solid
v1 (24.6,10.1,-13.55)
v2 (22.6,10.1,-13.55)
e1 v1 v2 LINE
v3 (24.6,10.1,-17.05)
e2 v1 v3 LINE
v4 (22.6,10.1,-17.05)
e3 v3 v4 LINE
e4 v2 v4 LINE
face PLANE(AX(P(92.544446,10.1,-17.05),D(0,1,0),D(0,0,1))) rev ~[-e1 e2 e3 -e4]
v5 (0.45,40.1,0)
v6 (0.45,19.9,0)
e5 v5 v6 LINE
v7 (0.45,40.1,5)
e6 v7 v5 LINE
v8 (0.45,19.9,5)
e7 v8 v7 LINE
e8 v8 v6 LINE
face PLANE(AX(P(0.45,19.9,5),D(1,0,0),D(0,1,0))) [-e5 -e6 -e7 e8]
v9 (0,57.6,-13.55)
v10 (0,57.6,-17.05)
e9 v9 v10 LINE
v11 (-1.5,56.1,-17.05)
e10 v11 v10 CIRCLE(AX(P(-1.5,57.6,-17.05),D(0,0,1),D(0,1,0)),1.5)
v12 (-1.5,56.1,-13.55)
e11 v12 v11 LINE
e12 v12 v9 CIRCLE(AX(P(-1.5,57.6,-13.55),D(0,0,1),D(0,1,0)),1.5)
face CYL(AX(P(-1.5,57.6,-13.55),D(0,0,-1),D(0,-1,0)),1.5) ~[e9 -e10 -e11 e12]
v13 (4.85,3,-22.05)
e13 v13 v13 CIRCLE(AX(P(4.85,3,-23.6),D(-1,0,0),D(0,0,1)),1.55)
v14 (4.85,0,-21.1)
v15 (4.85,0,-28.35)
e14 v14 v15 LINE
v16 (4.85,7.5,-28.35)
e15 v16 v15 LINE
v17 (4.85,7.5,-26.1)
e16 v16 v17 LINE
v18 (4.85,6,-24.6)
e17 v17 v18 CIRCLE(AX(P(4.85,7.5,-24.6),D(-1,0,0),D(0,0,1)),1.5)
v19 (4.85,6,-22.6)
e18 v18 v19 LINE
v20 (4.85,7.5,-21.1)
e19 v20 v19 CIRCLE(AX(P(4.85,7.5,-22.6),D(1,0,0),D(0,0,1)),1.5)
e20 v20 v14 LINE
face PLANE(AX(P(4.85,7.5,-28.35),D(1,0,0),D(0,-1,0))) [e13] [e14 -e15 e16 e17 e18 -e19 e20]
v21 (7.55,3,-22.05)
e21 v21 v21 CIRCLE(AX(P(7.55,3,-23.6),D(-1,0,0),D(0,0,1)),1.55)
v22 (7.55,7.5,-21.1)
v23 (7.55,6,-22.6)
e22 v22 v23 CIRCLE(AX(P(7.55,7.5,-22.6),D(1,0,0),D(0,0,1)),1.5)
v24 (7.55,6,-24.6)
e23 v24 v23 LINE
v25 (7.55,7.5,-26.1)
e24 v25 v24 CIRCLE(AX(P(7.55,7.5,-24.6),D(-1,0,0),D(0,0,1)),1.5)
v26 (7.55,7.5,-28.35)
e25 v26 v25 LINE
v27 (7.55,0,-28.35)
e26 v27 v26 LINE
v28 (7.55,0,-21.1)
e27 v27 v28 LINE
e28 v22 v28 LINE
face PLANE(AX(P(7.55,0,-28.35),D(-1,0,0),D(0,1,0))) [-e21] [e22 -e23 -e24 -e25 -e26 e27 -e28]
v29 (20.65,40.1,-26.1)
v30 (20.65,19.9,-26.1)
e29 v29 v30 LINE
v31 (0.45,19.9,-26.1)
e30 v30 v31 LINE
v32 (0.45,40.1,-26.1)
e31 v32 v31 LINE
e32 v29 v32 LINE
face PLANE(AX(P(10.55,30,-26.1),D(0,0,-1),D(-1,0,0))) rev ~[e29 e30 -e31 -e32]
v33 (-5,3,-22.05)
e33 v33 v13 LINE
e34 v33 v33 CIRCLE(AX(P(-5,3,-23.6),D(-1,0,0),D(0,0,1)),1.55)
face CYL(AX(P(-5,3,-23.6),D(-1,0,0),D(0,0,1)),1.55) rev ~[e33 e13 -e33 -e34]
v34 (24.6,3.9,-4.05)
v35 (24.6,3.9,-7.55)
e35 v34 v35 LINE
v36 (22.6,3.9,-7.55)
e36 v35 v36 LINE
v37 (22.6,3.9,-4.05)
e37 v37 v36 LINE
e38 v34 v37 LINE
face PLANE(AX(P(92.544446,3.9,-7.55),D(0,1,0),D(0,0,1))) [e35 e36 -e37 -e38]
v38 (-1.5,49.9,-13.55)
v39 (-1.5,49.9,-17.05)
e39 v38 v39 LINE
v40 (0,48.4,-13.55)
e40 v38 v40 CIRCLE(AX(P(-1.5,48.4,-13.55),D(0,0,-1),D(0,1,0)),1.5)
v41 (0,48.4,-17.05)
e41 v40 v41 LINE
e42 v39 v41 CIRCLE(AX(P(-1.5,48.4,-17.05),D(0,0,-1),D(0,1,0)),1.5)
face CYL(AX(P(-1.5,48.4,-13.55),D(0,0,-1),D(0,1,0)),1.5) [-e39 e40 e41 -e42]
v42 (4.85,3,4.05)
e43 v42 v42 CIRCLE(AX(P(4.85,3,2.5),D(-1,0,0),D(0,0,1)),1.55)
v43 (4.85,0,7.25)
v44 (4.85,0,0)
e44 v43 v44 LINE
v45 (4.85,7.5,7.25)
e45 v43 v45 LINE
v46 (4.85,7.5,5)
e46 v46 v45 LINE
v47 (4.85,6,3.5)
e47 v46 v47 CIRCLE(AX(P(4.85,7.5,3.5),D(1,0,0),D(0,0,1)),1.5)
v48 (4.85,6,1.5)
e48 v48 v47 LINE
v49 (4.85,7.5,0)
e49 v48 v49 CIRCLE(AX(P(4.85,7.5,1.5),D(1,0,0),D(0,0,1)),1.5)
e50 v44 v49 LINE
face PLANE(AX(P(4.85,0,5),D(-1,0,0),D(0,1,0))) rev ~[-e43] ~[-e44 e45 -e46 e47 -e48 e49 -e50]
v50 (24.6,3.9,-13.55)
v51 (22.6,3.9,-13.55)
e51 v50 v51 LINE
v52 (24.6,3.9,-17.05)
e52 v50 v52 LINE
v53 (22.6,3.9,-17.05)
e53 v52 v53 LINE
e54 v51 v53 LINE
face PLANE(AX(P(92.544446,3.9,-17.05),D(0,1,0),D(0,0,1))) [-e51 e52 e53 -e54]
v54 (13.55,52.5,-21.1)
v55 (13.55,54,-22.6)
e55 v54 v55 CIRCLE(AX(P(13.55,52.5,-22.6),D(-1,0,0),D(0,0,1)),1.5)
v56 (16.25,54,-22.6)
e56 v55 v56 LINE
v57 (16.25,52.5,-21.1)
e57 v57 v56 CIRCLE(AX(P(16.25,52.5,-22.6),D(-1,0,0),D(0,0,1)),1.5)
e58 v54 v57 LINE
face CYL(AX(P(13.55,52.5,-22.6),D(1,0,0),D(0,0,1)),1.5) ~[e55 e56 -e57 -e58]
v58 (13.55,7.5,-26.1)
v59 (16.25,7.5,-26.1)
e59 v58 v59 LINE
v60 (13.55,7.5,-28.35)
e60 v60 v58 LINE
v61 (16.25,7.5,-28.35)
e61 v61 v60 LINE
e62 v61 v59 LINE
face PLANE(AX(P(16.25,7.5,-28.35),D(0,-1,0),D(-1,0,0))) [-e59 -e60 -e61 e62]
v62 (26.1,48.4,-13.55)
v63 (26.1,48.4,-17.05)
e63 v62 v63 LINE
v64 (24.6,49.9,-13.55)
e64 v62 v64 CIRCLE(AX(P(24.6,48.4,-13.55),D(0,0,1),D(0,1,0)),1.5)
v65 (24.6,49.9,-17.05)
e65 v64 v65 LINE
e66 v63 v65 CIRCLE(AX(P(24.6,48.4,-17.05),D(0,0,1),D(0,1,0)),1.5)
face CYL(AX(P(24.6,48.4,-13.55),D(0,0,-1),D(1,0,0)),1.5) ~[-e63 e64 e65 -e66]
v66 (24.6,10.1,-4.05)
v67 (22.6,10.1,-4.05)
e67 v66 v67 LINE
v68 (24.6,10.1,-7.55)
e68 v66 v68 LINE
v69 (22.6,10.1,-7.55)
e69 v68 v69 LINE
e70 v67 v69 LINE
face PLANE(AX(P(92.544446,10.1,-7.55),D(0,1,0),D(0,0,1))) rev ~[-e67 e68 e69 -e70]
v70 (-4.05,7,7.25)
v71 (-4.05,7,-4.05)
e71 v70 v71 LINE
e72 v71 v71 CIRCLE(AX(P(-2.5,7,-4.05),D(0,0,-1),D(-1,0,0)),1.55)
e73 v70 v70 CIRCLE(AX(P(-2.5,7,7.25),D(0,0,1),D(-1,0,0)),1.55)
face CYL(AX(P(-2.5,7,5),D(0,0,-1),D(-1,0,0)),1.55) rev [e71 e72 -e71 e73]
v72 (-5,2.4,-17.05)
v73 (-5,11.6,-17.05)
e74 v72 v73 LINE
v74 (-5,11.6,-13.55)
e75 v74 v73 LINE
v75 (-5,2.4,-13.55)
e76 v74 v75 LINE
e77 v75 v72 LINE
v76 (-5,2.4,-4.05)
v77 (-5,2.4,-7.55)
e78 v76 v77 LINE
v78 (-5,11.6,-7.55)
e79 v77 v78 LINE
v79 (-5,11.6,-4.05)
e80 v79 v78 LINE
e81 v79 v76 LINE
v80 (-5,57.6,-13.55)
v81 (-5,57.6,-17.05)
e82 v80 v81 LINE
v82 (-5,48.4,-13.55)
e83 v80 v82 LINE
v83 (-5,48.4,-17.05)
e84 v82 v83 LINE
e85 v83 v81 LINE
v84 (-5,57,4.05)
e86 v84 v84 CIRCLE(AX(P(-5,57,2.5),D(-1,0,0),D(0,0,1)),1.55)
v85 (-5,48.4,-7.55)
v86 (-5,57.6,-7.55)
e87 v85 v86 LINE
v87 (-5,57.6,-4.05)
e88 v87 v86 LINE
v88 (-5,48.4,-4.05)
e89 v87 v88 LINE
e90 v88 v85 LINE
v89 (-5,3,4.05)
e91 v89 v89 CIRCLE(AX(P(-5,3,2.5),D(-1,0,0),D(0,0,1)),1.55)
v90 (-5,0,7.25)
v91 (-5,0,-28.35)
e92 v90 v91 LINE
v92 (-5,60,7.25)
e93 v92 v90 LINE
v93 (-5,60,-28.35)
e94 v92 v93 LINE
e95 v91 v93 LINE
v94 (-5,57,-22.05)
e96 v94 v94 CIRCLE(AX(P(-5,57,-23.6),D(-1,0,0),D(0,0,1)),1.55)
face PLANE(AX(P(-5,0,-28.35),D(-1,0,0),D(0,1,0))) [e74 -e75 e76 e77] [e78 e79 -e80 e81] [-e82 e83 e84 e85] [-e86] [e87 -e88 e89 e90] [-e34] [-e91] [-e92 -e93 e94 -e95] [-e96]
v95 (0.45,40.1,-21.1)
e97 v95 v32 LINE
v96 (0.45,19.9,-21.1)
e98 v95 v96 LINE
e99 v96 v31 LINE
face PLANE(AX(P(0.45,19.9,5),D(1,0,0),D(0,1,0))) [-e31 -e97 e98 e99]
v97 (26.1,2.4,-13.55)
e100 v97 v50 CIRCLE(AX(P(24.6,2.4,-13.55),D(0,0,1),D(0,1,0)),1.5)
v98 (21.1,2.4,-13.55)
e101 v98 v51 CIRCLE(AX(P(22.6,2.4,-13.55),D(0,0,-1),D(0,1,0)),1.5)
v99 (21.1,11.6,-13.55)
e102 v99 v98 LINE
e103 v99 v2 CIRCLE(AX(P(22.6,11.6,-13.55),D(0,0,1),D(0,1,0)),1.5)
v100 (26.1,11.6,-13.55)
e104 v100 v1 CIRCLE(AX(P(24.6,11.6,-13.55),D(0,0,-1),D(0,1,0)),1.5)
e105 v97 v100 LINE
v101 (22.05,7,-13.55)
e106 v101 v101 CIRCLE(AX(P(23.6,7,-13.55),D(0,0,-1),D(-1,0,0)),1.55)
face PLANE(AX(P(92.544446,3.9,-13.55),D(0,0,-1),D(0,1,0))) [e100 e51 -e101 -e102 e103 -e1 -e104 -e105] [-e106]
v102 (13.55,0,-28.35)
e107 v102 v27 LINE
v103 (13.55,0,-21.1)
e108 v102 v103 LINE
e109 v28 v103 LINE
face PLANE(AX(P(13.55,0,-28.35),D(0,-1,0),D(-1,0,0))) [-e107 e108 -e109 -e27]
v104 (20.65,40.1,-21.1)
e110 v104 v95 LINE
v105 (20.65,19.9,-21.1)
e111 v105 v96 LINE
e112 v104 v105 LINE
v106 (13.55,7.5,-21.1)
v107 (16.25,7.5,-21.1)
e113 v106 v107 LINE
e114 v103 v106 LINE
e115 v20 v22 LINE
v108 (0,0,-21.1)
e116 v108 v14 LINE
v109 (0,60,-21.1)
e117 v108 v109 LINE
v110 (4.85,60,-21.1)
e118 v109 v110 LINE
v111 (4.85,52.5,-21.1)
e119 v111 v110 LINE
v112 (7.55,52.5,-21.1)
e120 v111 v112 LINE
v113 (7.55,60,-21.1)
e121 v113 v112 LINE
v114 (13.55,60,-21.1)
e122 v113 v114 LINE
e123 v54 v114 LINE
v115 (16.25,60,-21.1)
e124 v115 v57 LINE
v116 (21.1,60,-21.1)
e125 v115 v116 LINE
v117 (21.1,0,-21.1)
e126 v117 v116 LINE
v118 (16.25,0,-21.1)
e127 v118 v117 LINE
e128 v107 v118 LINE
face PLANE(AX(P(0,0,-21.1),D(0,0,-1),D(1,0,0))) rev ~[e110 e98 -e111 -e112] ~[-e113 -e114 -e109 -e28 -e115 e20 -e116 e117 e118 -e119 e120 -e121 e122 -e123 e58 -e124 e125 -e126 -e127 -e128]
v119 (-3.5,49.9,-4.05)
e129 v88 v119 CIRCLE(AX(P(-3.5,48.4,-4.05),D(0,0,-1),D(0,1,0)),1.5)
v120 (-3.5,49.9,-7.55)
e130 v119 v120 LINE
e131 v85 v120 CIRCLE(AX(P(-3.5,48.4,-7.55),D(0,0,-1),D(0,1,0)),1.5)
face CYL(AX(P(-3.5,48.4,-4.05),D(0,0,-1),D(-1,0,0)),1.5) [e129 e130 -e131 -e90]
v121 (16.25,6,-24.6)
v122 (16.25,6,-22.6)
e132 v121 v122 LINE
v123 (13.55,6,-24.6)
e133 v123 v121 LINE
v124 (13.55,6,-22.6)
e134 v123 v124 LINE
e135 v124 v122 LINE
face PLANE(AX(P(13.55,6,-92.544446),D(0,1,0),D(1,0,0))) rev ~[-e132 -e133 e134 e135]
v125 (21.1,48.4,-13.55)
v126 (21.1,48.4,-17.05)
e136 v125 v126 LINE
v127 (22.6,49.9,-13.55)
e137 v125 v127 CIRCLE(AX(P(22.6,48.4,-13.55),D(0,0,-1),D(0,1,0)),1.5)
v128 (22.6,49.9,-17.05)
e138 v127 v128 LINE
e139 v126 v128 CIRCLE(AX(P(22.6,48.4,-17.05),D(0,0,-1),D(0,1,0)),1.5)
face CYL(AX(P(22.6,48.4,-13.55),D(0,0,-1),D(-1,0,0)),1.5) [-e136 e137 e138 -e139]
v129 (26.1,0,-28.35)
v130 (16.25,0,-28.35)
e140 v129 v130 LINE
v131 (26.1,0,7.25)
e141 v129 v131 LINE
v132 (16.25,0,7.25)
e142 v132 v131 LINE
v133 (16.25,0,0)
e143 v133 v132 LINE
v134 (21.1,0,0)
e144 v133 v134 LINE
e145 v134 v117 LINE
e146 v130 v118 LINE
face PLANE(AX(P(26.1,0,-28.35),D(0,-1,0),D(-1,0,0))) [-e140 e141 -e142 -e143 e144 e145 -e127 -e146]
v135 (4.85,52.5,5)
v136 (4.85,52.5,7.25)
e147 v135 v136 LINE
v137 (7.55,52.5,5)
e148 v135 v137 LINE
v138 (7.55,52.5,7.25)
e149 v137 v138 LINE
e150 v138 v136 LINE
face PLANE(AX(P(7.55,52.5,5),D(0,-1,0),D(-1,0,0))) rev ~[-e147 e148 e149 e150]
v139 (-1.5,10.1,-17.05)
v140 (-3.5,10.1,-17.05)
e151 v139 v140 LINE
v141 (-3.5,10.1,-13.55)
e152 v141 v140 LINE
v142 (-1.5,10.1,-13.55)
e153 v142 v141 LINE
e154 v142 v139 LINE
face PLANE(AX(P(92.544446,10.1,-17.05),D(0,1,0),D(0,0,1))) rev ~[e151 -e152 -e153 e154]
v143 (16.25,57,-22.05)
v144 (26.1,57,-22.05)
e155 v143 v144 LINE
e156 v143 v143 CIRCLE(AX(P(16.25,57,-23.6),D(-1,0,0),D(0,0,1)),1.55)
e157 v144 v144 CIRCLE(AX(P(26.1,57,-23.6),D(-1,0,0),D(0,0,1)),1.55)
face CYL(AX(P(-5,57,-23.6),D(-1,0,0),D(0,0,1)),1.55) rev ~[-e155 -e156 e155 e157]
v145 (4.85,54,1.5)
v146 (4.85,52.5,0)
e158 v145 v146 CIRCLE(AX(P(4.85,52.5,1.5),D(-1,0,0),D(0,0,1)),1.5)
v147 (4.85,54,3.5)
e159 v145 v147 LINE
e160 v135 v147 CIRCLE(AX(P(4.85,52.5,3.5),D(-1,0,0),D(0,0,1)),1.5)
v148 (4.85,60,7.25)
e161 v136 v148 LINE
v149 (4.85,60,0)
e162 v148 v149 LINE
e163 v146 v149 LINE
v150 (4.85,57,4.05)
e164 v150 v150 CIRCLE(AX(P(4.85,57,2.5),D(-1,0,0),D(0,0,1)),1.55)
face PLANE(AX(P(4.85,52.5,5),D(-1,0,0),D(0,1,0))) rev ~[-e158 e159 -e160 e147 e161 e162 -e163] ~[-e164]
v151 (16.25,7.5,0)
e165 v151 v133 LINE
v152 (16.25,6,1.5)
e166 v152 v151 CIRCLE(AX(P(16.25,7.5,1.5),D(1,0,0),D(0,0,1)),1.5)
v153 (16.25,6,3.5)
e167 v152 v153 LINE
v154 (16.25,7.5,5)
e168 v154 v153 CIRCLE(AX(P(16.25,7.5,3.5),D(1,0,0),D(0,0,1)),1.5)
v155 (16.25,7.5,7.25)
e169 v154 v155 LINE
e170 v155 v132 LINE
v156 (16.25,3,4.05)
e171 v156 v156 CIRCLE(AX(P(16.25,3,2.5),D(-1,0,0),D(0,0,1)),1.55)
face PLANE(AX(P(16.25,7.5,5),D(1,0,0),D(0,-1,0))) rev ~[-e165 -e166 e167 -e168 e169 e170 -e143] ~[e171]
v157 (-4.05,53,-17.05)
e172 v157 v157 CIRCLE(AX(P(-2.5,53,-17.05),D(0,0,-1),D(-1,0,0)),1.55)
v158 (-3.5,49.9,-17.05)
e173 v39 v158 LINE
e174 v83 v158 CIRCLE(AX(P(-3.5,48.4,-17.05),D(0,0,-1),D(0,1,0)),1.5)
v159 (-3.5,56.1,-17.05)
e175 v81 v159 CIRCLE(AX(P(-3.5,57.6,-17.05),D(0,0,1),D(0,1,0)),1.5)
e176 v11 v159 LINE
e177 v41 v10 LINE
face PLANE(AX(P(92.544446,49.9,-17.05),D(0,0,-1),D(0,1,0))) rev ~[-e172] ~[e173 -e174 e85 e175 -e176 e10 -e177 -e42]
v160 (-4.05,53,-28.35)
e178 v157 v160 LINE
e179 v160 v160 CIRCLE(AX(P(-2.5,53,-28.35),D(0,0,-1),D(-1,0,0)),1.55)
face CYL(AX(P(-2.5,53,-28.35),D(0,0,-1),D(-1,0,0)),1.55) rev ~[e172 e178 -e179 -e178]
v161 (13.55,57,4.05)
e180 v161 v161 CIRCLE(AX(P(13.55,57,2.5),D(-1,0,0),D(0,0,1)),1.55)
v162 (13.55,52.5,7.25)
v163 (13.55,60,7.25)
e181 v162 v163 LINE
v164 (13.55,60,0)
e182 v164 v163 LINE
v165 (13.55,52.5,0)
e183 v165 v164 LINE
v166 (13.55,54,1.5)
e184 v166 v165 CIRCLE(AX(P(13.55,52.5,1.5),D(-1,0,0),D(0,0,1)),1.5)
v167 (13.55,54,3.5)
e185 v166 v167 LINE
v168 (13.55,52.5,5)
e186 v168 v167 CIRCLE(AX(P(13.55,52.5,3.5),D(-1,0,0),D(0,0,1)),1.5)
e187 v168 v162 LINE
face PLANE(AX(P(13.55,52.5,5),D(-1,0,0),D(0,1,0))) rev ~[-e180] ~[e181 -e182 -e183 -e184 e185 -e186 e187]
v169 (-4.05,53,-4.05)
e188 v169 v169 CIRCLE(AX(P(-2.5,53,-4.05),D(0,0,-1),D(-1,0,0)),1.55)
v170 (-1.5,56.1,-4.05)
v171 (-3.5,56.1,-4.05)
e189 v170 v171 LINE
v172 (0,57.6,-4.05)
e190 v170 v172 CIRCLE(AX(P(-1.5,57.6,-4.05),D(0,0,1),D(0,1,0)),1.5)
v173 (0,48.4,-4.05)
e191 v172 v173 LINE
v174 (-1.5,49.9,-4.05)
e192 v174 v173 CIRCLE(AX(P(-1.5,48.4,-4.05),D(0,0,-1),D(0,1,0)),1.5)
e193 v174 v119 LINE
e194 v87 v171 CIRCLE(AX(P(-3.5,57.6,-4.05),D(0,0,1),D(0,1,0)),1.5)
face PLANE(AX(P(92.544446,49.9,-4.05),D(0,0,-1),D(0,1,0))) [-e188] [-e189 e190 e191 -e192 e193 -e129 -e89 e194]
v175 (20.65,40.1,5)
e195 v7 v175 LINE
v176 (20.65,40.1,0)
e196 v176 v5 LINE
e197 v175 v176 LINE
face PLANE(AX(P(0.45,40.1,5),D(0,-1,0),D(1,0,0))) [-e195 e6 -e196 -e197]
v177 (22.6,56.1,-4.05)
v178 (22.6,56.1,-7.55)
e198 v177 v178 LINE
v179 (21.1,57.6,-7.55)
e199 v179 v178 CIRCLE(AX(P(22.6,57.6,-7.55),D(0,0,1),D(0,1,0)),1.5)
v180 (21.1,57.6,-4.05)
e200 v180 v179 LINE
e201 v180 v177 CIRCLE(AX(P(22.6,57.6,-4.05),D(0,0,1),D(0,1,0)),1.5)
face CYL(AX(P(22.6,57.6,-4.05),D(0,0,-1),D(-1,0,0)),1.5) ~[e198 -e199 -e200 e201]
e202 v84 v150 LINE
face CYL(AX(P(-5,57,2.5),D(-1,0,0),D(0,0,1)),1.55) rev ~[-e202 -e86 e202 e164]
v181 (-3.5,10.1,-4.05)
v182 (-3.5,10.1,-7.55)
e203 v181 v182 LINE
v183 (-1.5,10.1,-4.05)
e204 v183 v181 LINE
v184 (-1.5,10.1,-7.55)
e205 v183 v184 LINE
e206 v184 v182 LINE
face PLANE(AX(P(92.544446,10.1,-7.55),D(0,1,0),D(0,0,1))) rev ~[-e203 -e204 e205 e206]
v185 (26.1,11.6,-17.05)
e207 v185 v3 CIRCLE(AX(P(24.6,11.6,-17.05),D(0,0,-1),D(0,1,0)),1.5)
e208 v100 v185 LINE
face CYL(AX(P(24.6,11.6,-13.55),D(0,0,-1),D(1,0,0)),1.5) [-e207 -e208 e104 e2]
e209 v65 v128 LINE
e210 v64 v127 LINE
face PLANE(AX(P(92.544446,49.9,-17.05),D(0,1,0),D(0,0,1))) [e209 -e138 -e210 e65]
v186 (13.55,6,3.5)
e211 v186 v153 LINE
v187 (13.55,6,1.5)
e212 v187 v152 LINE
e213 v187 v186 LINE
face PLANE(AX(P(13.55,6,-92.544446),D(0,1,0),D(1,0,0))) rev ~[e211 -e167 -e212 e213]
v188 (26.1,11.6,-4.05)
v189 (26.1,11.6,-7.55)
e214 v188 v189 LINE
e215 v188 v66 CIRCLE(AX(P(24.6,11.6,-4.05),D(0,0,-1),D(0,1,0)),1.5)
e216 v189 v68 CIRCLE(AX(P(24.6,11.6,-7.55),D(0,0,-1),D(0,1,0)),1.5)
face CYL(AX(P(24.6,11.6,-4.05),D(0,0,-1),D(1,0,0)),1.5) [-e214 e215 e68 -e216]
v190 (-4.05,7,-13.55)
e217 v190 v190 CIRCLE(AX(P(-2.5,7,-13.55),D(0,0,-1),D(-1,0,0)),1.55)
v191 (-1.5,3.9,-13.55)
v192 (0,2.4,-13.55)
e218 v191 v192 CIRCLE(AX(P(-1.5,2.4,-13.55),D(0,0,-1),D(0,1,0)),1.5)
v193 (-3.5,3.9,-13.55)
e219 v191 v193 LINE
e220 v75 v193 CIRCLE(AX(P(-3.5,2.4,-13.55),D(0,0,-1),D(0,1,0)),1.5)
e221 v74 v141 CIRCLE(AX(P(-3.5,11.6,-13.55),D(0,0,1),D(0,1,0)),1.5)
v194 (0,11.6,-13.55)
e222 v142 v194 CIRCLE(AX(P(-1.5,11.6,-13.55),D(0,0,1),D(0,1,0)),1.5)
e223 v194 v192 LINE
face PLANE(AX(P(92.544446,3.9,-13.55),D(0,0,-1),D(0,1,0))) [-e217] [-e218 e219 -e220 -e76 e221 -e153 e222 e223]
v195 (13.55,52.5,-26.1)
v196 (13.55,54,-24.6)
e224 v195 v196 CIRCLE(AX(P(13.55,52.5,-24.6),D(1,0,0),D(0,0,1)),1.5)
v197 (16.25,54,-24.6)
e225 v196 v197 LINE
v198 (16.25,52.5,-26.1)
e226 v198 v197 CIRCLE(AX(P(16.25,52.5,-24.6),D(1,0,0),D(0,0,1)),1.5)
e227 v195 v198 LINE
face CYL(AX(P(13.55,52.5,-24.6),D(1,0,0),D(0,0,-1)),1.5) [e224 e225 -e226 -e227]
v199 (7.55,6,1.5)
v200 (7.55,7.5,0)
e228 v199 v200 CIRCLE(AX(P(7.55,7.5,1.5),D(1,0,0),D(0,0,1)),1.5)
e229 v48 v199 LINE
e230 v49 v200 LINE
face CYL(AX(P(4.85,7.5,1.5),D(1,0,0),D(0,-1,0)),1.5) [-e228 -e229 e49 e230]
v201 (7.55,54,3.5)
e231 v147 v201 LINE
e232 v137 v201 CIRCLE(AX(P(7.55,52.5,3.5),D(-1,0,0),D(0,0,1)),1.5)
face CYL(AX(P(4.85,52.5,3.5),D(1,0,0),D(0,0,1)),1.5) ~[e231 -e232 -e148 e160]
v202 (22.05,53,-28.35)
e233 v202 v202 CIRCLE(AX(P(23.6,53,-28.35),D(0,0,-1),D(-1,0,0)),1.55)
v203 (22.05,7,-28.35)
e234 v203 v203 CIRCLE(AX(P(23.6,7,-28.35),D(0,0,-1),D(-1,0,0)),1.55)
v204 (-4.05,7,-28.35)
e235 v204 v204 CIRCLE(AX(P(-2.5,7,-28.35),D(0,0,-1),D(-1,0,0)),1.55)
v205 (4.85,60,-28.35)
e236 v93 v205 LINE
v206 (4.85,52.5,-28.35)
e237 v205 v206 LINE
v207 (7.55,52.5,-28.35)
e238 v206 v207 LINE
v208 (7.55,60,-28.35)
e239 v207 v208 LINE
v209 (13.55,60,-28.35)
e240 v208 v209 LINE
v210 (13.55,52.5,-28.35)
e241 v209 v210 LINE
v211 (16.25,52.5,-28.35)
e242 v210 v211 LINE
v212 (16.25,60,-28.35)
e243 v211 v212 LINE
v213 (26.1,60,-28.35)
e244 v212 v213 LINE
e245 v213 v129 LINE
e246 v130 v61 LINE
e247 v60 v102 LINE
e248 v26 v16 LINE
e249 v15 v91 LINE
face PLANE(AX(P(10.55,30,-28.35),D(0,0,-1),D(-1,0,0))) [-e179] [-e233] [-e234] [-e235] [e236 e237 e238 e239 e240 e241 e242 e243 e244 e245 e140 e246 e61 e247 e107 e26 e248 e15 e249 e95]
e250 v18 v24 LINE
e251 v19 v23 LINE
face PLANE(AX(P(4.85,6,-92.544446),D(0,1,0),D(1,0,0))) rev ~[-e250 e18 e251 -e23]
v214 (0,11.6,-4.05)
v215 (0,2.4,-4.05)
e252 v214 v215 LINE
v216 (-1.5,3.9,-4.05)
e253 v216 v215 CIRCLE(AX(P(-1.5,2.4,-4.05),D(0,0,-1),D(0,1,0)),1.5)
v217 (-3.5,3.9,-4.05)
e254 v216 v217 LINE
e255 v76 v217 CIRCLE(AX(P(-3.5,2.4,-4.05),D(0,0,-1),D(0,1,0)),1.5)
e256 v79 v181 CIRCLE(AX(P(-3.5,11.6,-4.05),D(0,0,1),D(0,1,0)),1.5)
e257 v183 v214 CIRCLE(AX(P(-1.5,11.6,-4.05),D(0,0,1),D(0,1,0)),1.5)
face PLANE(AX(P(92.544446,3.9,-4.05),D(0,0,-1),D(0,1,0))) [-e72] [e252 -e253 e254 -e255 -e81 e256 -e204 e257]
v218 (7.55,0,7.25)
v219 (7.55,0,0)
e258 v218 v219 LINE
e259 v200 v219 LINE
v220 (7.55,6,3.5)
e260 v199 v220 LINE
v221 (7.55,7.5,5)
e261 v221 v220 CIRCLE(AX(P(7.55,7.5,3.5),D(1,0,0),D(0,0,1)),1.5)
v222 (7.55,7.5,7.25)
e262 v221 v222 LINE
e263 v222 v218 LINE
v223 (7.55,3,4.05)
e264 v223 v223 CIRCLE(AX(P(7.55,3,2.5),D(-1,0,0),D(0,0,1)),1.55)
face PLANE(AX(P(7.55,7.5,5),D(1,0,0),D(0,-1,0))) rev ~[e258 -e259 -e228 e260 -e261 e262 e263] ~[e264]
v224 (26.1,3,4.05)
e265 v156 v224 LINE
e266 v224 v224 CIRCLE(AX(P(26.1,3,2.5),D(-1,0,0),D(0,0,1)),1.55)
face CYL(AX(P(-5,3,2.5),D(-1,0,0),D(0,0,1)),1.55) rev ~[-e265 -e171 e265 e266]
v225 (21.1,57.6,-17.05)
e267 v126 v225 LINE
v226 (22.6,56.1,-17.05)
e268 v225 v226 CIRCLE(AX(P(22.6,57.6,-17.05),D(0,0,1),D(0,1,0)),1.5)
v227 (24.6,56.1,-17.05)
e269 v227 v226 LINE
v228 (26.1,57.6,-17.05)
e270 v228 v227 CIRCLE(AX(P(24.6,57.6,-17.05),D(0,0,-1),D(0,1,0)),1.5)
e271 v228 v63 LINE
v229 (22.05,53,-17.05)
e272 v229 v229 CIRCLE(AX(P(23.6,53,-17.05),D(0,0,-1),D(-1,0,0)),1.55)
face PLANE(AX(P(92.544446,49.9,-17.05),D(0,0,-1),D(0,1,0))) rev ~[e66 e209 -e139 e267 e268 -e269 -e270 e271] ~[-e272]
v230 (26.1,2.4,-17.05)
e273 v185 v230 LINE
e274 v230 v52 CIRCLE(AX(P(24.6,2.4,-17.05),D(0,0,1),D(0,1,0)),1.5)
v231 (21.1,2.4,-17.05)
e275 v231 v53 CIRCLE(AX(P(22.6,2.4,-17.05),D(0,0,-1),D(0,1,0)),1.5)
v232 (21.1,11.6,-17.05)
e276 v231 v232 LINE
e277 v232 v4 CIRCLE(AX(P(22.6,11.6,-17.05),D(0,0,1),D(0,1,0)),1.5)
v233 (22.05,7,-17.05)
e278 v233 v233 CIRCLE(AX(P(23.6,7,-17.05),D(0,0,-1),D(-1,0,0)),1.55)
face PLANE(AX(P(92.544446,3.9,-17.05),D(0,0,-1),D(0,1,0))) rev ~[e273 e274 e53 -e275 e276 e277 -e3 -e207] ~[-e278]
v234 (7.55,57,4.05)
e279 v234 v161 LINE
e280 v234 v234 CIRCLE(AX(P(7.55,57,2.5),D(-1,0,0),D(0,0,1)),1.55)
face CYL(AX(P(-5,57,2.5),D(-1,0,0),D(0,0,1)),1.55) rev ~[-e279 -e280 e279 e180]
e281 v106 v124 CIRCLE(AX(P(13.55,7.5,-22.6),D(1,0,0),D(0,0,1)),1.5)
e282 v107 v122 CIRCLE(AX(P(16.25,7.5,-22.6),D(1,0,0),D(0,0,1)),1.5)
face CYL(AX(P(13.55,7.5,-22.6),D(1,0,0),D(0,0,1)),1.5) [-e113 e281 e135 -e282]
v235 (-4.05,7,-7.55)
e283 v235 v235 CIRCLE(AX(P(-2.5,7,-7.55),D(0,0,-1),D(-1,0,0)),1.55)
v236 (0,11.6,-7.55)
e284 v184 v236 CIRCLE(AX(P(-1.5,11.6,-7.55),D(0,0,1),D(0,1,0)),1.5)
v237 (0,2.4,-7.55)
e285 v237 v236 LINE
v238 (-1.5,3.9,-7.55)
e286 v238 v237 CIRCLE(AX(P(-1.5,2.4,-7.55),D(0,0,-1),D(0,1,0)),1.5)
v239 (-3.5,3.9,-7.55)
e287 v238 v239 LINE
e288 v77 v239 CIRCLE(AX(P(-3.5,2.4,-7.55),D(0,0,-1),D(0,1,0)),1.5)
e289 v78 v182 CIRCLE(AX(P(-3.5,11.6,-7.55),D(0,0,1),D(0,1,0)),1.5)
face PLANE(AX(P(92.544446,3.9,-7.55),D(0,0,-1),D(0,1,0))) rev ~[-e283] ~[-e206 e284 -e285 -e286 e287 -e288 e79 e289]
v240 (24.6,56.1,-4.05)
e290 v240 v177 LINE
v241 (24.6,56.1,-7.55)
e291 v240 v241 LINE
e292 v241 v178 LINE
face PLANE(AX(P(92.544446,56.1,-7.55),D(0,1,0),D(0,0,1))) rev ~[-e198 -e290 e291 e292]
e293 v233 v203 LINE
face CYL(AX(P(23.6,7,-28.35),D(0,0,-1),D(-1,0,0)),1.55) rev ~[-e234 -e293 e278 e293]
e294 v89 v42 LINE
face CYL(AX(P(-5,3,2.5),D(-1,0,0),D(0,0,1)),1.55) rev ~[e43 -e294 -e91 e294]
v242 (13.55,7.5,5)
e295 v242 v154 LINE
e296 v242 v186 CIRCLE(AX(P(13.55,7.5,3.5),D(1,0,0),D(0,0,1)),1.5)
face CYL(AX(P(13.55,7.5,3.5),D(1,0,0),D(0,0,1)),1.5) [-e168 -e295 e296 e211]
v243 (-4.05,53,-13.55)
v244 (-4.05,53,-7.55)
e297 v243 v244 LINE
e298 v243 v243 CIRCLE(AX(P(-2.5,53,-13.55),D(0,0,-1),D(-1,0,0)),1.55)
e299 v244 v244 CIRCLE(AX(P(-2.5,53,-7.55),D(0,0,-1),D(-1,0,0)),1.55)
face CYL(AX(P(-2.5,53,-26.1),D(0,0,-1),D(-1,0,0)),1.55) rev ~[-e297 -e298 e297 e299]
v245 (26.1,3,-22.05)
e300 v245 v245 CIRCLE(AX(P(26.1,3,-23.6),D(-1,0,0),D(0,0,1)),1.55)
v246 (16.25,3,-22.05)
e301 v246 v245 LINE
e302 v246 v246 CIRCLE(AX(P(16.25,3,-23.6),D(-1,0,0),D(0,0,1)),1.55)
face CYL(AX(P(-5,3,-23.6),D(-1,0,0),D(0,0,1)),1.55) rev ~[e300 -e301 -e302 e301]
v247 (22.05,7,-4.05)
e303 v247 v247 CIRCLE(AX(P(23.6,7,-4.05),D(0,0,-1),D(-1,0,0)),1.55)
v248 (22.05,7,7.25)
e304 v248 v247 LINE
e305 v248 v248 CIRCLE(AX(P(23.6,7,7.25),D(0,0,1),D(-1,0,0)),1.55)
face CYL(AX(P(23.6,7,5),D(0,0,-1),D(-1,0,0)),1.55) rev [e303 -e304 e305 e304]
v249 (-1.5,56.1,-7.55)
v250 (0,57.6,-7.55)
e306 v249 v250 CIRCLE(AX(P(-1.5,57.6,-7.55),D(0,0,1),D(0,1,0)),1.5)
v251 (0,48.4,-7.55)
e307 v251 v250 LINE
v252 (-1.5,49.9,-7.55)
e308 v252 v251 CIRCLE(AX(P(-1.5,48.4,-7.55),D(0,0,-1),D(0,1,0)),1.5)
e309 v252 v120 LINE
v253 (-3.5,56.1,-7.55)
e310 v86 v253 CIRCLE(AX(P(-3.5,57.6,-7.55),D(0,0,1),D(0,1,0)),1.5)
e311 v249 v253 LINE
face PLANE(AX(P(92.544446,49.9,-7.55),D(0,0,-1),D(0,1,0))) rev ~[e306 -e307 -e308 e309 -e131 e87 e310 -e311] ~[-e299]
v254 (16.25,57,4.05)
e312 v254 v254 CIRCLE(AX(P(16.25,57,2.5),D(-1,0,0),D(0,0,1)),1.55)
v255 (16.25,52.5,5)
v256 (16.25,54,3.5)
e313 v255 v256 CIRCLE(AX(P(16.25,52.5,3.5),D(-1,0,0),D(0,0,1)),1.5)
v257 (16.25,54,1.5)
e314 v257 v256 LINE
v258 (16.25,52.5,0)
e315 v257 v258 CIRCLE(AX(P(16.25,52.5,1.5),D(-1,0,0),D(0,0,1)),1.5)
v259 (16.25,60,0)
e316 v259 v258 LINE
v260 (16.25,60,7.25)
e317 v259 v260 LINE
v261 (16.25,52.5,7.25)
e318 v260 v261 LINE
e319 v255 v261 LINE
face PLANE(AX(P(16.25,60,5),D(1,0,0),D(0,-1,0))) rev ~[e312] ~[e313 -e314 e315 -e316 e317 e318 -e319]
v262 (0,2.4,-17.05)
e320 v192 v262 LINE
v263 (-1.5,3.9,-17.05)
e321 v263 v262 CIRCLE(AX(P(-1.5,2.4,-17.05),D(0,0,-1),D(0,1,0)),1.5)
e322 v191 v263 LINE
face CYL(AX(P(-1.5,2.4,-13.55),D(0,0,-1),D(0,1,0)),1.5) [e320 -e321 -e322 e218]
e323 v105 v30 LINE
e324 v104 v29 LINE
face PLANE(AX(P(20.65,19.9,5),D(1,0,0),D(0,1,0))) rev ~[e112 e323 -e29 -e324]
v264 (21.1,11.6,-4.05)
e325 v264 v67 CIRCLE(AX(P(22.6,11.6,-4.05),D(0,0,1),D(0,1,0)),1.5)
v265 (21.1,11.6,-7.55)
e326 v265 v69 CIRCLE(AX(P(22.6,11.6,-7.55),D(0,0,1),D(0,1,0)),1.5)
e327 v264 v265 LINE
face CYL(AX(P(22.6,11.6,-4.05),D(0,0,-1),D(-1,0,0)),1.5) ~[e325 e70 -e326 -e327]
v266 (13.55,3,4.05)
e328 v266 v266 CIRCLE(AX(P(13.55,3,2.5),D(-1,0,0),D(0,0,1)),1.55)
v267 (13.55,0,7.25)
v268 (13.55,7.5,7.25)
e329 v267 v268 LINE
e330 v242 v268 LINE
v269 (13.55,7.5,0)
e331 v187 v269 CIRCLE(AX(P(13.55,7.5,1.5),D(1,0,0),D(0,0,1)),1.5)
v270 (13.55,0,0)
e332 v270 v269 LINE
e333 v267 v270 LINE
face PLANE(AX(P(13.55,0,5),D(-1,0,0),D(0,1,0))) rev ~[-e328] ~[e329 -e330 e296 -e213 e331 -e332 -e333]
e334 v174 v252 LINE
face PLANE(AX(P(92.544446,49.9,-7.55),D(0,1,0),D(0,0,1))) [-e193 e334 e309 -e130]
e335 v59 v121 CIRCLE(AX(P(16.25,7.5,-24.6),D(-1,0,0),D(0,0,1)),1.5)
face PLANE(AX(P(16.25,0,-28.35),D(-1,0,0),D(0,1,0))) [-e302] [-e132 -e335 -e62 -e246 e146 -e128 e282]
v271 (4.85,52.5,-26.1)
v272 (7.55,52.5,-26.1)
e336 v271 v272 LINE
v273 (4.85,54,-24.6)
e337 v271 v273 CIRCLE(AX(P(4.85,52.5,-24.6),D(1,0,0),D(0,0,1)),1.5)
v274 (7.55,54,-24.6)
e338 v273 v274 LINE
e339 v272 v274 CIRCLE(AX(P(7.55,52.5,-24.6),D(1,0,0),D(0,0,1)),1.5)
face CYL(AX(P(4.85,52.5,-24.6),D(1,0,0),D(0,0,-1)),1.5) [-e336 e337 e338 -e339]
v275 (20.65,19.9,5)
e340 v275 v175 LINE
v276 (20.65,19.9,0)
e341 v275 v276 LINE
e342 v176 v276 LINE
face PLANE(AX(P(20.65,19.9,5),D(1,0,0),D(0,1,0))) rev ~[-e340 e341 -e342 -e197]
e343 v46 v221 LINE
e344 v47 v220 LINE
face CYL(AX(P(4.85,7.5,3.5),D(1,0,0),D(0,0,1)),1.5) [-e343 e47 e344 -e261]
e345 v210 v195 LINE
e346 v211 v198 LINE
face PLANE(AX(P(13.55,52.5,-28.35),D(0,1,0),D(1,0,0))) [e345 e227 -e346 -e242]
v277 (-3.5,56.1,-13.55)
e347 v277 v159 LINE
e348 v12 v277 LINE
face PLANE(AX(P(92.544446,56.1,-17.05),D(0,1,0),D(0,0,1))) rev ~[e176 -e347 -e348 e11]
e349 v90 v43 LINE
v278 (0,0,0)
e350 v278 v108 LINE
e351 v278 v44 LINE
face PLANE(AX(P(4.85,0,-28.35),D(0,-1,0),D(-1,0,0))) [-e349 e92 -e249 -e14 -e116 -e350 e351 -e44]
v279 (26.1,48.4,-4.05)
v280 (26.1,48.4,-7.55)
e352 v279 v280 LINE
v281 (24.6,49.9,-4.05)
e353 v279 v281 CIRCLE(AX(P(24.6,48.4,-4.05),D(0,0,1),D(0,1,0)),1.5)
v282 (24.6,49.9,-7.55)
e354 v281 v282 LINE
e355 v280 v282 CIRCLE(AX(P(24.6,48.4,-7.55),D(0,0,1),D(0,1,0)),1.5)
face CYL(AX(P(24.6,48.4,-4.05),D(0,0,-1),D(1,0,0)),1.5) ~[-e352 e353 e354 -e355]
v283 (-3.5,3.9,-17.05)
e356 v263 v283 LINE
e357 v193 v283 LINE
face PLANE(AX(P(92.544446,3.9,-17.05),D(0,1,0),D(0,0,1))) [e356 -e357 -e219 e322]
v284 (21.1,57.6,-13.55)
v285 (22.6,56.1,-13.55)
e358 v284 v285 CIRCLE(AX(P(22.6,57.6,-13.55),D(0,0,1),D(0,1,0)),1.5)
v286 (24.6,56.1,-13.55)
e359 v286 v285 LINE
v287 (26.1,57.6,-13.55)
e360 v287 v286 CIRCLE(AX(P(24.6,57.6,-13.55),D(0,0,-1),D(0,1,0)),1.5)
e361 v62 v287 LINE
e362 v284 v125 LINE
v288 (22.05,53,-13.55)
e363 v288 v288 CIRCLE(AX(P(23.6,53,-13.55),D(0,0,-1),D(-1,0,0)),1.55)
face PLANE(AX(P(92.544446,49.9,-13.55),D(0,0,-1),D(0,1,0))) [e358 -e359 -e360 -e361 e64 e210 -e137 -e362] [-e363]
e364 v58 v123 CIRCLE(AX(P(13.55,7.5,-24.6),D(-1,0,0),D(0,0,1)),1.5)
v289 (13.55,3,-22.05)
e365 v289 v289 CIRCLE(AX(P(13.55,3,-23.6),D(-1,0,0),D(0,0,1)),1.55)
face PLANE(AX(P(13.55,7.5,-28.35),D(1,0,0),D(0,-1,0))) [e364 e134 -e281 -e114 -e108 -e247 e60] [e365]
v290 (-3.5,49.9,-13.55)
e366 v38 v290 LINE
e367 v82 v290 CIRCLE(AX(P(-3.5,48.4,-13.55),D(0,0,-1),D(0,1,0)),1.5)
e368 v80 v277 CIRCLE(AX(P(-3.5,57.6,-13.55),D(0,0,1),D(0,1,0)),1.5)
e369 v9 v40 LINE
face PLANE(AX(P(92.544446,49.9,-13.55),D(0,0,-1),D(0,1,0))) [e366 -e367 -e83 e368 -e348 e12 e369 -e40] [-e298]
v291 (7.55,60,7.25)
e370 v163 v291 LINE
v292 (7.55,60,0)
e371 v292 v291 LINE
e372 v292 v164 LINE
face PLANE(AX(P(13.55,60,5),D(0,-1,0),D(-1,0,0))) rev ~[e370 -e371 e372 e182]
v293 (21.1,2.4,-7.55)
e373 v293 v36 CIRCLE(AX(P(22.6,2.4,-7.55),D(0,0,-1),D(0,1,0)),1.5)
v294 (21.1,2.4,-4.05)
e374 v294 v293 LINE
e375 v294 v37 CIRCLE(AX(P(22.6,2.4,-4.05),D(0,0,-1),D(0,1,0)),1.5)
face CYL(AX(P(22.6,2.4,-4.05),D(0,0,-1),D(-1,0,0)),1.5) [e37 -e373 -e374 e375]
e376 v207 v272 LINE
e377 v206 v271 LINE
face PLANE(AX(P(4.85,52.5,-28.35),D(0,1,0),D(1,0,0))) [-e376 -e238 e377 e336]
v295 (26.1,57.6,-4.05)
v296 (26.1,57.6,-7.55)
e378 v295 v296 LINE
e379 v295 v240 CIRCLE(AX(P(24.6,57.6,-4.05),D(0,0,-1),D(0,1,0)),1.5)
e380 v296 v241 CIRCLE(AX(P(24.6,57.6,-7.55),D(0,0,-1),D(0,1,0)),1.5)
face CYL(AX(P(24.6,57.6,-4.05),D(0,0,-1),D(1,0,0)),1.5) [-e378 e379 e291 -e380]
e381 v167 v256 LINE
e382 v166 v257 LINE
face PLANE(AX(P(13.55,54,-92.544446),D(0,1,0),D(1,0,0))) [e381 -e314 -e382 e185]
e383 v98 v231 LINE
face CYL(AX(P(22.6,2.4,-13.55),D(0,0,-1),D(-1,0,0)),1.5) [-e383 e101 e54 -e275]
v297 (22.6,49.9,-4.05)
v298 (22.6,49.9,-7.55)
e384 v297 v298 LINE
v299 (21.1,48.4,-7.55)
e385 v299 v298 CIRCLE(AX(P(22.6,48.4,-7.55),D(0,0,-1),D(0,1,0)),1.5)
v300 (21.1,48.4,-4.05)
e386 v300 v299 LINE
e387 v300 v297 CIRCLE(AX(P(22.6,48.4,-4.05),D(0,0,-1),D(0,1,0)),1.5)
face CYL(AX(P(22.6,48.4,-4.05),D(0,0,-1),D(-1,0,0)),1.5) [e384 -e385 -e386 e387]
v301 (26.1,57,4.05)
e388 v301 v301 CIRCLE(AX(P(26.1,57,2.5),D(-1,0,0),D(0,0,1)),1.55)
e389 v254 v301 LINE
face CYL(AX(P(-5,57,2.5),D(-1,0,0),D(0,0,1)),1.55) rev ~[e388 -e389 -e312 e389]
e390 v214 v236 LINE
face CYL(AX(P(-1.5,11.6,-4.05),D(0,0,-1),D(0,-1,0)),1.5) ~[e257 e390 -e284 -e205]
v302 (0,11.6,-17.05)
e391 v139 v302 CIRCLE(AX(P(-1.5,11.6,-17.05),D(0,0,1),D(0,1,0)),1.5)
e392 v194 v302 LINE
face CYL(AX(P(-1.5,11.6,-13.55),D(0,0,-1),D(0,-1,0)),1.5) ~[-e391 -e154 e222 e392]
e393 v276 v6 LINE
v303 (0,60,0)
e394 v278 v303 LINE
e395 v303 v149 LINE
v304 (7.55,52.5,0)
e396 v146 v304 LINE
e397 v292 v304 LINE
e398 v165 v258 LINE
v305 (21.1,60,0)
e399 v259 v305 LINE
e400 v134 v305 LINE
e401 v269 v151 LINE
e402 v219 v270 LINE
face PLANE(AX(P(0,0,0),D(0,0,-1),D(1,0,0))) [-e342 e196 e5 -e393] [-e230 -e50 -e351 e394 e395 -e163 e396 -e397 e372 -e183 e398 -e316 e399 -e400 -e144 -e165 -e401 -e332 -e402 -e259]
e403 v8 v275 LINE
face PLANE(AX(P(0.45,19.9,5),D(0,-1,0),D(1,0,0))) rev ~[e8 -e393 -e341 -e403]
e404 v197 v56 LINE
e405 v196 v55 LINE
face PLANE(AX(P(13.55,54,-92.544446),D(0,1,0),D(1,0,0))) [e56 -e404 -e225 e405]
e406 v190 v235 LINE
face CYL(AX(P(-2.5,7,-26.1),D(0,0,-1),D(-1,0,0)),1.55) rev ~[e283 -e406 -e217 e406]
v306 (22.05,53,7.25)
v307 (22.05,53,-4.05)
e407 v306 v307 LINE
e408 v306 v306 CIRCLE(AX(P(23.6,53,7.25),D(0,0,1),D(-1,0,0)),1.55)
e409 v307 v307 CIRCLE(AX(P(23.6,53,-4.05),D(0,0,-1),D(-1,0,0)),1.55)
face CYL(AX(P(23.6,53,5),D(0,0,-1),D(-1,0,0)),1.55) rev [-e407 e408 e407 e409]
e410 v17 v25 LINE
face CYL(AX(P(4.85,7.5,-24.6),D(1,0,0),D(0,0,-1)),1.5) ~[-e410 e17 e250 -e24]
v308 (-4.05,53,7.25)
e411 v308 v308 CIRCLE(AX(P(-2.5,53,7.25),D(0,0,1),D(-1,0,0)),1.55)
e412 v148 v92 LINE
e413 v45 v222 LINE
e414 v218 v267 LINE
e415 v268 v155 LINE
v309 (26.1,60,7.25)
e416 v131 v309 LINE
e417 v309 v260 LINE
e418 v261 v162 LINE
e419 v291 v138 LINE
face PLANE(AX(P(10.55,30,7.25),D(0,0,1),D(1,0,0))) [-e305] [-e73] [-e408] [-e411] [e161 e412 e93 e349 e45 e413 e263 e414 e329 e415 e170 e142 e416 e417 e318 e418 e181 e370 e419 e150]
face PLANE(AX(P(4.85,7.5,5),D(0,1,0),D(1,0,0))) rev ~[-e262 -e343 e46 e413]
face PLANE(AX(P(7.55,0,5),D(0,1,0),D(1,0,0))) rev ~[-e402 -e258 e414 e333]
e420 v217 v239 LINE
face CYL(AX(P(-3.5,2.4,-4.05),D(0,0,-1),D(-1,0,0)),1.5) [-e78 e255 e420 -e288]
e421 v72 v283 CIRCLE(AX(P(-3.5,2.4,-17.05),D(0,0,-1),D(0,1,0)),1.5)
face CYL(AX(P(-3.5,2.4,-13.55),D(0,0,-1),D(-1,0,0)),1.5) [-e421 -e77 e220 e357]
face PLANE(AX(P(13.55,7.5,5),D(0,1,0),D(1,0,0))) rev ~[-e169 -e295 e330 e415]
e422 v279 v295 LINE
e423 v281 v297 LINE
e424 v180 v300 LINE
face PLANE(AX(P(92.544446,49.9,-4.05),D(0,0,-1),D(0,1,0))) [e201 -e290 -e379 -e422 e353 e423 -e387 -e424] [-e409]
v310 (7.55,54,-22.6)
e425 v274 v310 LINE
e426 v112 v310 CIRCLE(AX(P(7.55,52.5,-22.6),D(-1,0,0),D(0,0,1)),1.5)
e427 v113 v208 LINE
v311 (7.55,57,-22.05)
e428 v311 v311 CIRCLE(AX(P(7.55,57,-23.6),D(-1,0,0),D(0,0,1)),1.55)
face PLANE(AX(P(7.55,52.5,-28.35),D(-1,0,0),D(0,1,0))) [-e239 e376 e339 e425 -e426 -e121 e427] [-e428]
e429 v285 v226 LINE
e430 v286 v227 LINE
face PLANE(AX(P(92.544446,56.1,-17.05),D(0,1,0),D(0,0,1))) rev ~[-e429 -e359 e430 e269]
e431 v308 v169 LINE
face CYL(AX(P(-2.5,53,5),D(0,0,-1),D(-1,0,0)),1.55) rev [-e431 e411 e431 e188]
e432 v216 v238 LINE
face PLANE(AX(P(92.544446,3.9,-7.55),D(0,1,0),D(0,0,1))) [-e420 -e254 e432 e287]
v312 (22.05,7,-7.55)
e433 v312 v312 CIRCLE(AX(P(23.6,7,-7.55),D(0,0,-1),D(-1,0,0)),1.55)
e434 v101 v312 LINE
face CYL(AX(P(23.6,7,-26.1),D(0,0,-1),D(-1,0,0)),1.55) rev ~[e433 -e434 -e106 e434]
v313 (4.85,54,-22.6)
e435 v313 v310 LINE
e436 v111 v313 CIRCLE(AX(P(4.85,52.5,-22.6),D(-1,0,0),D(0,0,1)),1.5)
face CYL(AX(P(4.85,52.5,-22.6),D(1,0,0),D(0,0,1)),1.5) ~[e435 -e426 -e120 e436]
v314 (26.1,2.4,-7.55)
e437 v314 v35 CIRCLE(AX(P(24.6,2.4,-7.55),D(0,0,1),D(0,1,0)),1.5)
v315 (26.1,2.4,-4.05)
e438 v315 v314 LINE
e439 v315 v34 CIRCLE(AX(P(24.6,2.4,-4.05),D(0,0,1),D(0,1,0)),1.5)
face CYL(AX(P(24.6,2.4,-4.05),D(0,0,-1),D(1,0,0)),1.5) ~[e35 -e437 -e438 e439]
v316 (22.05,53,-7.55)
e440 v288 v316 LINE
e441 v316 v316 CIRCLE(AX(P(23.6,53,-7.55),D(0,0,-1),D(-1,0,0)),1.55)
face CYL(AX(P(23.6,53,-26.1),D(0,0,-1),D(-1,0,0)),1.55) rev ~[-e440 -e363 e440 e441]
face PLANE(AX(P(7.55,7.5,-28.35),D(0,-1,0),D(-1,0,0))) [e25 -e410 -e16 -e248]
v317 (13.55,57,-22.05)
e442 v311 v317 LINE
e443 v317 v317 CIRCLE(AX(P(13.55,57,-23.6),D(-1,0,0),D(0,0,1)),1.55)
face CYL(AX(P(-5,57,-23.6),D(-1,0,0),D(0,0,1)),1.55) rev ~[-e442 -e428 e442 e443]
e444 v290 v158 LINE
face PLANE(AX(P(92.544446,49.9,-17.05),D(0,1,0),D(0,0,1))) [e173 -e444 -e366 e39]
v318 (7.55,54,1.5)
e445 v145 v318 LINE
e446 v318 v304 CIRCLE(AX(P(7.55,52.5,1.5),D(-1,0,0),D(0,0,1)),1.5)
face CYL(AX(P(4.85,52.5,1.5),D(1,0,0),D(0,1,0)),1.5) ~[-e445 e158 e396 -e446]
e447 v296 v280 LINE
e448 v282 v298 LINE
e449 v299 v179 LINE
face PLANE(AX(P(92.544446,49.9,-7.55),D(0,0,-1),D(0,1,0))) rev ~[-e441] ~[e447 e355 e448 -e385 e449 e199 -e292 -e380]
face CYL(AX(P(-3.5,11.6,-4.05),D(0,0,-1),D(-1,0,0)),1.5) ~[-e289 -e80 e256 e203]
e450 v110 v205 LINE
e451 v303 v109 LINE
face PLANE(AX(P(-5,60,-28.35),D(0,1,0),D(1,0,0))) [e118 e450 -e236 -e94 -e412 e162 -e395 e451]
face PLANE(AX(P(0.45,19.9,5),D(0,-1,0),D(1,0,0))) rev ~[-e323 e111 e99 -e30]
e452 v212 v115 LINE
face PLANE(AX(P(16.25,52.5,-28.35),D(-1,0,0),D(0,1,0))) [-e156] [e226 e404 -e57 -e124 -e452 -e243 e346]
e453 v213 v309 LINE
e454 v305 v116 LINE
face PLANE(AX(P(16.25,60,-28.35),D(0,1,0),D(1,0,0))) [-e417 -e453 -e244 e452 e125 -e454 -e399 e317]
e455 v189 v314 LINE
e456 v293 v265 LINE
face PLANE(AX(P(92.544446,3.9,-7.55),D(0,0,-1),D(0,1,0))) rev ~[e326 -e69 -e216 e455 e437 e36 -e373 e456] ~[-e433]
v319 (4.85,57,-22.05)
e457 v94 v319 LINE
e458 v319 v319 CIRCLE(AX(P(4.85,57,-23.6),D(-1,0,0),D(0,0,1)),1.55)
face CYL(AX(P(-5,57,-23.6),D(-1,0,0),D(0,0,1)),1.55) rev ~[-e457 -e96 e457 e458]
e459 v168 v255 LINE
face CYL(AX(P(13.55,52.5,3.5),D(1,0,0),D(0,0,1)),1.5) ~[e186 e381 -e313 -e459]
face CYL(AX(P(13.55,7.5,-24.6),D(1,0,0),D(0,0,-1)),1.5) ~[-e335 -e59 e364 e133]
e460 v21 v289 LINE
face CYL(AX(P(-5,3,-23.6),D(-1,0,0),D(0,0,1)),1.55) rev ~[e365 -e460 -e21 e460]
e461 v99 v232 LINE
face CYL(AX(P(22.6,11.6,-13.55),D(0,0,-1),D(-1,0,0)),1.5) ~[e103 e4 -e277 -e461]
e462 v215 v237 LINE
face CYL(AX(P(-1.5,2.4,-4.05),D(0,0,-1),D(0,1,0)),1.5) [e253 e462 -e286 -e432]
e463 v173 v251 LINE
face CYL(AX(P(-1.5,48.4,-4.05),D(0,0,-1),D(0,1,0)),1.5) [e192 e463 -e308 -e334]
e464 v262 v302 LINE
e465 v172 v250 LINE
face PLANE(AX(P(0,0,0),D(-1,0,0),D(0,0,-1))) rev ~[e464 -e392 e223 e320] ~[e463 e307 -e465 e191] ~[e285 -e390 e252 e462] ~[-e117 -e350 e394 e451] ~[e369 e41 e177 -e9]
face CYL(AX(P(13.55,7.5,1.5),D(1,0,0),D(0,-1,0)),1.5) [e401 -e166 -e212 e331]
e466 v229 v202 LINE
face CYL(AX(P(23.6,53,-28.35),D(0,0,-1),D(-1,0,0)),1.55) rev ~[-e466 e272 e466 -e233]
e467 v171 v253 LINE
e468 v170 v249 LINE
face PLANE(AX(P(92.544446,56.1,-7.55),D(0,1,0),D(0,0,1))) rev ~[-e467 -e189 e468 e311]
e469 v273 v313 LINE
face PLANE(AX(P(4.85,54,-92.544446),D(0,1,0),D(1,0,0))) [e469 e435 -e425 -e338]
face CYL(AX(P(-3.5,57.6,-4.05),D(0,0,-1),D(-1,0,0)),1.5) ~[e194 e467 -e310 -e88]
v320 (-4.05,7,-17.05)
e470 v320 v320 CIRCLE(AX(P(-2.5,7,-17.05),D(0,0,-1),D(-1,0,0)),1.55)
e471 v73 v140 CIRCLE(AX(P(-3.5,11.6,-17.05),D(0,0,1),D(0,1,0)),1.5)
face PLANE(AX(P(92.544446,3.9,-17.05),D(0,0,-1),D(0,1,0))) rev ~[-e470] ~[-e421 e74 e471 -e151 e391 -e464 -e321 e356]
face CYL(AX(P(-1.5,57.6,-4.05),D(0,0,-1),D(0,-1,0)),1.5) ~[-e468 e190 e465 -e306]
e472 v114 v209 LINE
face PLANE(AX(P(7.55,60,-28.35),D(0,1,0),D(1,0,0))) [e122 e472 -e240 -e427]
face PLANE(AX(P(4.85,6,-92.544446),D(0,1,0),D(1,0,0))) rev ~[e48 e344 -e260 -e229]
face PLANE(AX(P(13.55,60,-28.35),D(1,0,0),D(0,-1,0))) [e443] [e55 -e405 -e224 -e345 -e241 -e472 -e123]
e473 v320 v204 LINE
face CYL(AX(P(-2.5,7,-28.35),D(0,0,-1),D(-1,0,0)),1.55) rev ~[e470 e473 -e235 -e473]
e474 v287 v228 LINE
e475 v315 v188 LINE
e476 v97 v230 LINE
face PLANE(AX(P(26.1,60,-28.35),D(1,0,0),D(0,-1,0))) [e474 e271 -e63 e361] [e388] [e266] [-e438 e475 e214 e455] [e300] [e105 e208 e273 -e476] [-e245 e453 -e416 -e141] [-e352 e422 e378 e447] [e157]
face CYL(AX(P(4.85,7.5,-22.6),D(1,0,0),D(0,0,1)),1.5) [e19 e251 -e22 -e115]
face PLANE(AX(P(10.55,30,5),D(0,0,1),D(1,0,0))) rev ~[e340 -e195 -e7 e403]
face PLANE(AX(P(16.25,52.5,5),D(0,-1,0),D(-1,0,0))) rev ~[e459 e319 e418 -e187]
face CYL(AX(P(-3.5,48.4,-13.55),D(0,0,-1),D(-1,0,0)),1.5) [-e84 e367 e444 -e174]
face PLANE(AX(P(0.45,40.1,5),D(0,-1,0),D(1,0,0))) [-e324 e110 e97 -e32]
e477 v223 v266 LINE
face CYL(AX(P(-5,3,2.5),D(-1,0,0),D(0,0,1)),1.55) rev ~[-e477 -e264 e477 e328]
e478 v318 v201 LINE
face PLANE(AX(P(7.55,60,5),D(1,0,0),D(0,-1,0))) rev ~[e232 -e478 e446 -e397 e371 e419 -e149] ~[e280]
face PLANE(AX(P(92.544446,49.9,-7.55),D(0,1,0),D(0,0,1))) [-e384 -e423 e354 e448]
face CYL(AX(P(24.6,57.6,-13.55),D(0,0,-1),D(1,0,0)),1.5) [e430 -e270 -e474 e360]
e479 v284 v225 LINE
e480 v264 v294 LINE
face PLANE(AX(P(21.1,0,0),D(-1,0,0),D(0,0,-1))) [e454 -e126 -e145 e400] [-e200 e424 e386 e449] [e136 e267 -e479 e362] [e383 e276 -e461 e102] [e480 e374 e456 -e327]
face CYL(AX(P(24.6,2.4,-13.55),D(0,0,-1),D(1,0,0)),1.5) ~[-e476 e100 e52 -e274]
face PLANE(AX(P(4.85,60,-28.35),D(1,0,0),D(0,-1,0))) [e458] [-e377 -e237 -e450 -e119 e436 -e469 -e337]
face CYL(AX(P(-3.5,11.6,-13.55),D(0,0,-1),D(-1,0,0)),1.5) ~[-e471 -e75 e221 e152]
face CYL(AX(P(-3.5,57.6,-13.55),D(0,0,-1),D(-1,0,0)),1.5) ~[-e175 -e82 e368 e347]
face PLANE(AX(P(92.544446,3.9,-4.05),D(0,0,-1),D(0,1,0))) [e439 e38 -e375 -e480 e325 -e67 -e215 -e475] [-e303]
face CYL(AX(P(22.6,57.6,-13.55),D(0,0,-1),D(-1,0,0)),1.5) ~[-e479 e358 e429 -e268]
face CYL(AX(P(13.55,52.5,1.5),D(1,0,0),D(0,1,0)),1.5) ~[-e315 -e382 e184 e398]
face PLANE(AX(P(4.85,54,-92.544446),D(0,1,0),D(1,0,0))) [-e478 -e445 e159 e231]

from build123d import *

# Parameters (mm, degrees)
SKETCH_1_W               = 31.1
SKETCH_1_H               = 31.1
SKETCH_1_W_2             = 21.1
SKETCH_1_H_2             = 21.1
EXTRUDE_1_DEPTH          = 60
SKETCH_2_R               = 1.55
CUT_EXTRUDE_1_DEPTH      = 73.445979875
CUT_EXTRUDE_2_DEPTH      = 71.444446197
CUT_EXTRUDE_2_DEPTH_BACK = 71.444446197
SKETCH_3_W               = 2.7
SKETCH_3_H               = 6
SKETCH_4_R               = 1.55
CUT_EXTRUDE_3_DEPTH      = 73.445979875
CUT_EXTRUDE_4_DEPTH      = 71.444446197
CUT_EXTRUDE_4_DEPTH_BACK = 71.444446197
SKETCH_5_W               = 3.5
SKETCH_5_H               = 6.2
FILLET_1_R               = 1.5
SKETCH_6_W               = 20.2
SKETCH_6_H               = 20.2
CUT_EXTRUDE_5_DEPTH      = 73.445979875
SKETCH_7_R               = 1.55
EXTRUDE_2_DEPTH          = 2.25
EXTRUDE_START            = 2.25
SKETCH_8_R               = 1.55
EXTRUDE_3_DEPTH          = 2.25


with BuildPart() as part:
    # 草图1 → 凸台-拉伸1 (new body)
    with BuildSketch(Plane(origin=(0, 0, 0), x_dir=(1, 0, 0), z_dir=(0, 1, 0))):
        with Locations((10.55, 10.55)):
            Rectangle(SKETCH_1_W, SKETCH_1_H)
        with Locations((10.55, 10.55)):
            Rectangle(SKETCH_1_W_2, SKETCH_1_H_2, mode=Mode.SUBTRACT)
    extrude(amount=EXTRUDE_1_DEPTH)

    # 草图2 → 切除-拉伸1 (cut, through all)
    with BuildSketch(Plane.ZY.offset(5)):
        with Locations((-23.6, 57)):
            Circle(SKETCH_2_R)
        with Locations((-23.6, 3)):
            Circle(SKETCH_2_R)
        with Locations((2.5, 3)):
            Circle(SKETCH_2_R)
        with Locations((2.5, 57)):
            Circle(SKETCH_2_R)
    extrude(amount=-CUT_EXTRUDE_1_DEPTH, mode=Mode.SUBTRACT)

    # 草图3 → 切除-拉伸2 (cut, two sides: drawn at the far end of the back side and taken through both)
    with BuildSketch(Plane.XY.offset(-21.1).offset(-CUT_EXTRUDE_2_DEPTH_BACK)):
        with Locations((6.2, 57)):
            Rectangle(SKETCH_3_W, SKETCH_3_H)
        with Locations((14.9, 57)):
            Rectangle(SKETCH_3_W, SKETCH_3_H)
        with Locations((14.9, 3)):
            Rectangle(SKETCH_3_W, SKETCH_3_H)
        with Locations((6.2, 3)):
            Rectangle(SKETCH_3_W, SKETCH_3_H)
    extrude(amount=CUT_EXTRUDE_2_DEPTH + CUT_EXTRUDE_2_DEPTH_BACK, mode=Mode.SUBTRACT)

    # 草图4 → 切除-拉伸3 (cut, through all)
    with BuildSketch(Plane(origin=(0, 0, -26.1), x_dir=(-1, 0, 0), z_dir=(0, 0, -1))):
        with Locations((-23.6, 53)):
            Circle(SKETCH_4_R)
        with Locations((2.5, 53)):
            Circle(SKETCH_4_R)
        with Locations((2.5, 7)):
            Circle(SKETCH_4_R)
        with Locations((-23.6, 7)):
            Circle(SKETCH_4_R)
    extrude(amount=-CUT_EXTRUDE_3_DEPTH, mode=Mode.SUBTRACT)

    # 草图5 → 切除-拉伸4 (cut, two sides: drawn at the far end of the back side and taken through both)
    with BuildSketch(Plane.ZY.offset(-21.1).offset(-CUT_EXTRUDE_4_DEPTH_BACK)):
        with Locations((-15.3, 53)):
            Rectangle(SKETCH_5_W, SKETCH_5_H)
        with Locations((-5.8, 53)):
            Rectangle(SKETCH_5_W, SKETCH_5_H)
        with Locations((-5.8, 7)):
            Rectangle(SKETCH_5_W, SKETCH_5_H)
        with Locations((-15.3, 7)):
            Rectangle(SKETCH_5_W, SKETCH_5_H)
    extrude(amount=CUT_EXTRUDE_4_DEPTH + CUT_EXTRUDE_4_DEPTH_BACK, mode=Mode.SUBTRACT)

    # 圆角1
    fillet_1_edges = [part.edges().sort_by_distance(p)[0] for p in [
        (14.9, 6, 0),
        (14.9, 6, -26.1),
        (14.9, 6, 5),
        (14.9, 54, 0),
        (14.9, 54, -26.1),
        (14.9, 54, 5),
        (6.2, 54, 0),
        (6.2, 54, -26.1),
        (6.2, 54, 5),
        (21.1, 49.9, -15.3),
        (21.1, 56.1, -15.3),
        (21.1, 49.9, -5.8),
        (21.1, 56.1, -5.8),
        (21.1, 10.1, -5.8),
        (21.1, 3.9, -5.8),
        (21.1, 10.1, -15.3),
        (21.1, 3.9, -15.3),
        (0, 3.9, -15.3),
        (0, 10.1, -15.3),
        (26.1, 3.9, -15.3),
        (26.1, 10.1, -15.3),
        (-5, 3.9, -15.3),
        (-5, 10.1, -15.3),
        (0, 3.9, -5.8),
        (0, 10.1, -5.8),
        (26.1, 3.9, -5.8),
        (26.1, 10.1, -5.8),
        (-5, 3.9, -5.8),
        (-5, 10.1, -5.8),
        (0, 56.1, -5.8),
        (0, 49.9, -5.8),
        (26.1, 56.1, -5.8),
        (26.1, 49.9, -5.8),
        (-5, 49.9, -5.8),
        (-5, 56.1, -5.8),
        (0, 56.1, -15.3),
        (0, 49.9, -15.3),
        (26.1, 56.1, -15.3),
        (26.1, 49.9, -15.3),
        (-5, 49.9, -15.3),
        (-5, 56.1, -15.3),
        (6.2, 54, -21.1),
        (14.9, 54, -21.1),
        (14.9, 6, -21.1),
        (6.2, 6, -21.1),
        (6.2, 6, 0),
        (6.2, 6, -26.1),
        (6.2, 6, 5),
    ]]
    fillet(fillet_1_edges, radius=FILLET_1_R)

    # 草图6 → 切除-拉伸5 (cut, through all)
    with BuildSketch(Plane.XY.offset(5)):
        with Locations((10.55, 30)):
            Rectangle(SKETCH_6_W, SKETCH_6_H)
    extrude(amount=-CUT_EXTRUDE_5_DEPTH, mode=Mode.SUBTRACT)

    # 草图7 → 凸台-拉伸2 (add)
    with BuildSketch(Plane.XY.offset(5)):
        Polygon((13.55, 0), (13.55, 7.5), (16.25, 7.5), (16.25, 0), (26.1, 0), (26.1, 60), (16.25, 60), (16.25, 52.5), (13.55, 52.5), (13.55, 60), (7.55, 60), (7.55, 52.5), (4.85, 52.5), (4.85, 60), (-5, 60), (-5, 0), (4.85, 0), (4.85, 7.5), (7.55, 7.5), (7.55, 0), align=None)
        with Locations(Location((23.6, 7, 0), (0, 0, 180))):
            Circle(SKETCH_7_R, mode=Mode.SUBTRACT)
        with Locations(Location((23.6, 53, 0), (0, 0, 180))):
            Circle(SKETCH_7_R, mode=Mode.SUBTRACT)
        with Locations(Location((-2.5, 53, 0), (0, 0, 180))):
            Circle(SKETCH_7_R, mode=Mode.SUBTRACT)
        with Locations(Location((-2.5, 7, 0), (0, 0, 180))):
            Circle(SKETCH_7_R, mode=Mode.SUBTRACT)
    extrude(amount=EXTRUDE_2_DEPTH)

    # 草图8 → 凸台-拉伸3 (add)
    with BuildSketch(Plane(origin=(0, 0, -26.1), x_dir=(-1, 0, 0), z_dir=(0, 0, -1)).offset(EXTRUDE_START)):
        Polygon((-7.55, 7.5), (-4.85, 7.5), (-4.85, 0), (5, 0), (5, 60), (-4.85, 60), (-4.85, 52.5), (-7.55, 52.5), (-7.55, 60), (-13.55, 60), (-13.55, 52.5), (-16.25, 52.5), (-16.25, 60), (-26.1, 60), (-26.1, 0), (-16.25, 0), (-16.25, 7.5), (-13.55, 7.5), (-13.55, 0), (-7.55, 0), align=None)
        with Locations((-23.6, 7)):
            Circle(SKETCH_8_R, mode=Mode.SUBTRACT)
        with Locations((2.5, 7)):
            Circle(SKETCH_8_R, mode=Mode.SUBTRACT)
        with Locations((2.5, 53)):
            Circle(SKETCH_8_R, mode=Mode.SUBTRACT)
        with Locations((-23.6, 53)):
            Circle(SKETCH_8_R, mode=Mode.SUBTRACT)
    extrude(amount=-EXTRUDE_3_DEPTH)


solid = part.part
